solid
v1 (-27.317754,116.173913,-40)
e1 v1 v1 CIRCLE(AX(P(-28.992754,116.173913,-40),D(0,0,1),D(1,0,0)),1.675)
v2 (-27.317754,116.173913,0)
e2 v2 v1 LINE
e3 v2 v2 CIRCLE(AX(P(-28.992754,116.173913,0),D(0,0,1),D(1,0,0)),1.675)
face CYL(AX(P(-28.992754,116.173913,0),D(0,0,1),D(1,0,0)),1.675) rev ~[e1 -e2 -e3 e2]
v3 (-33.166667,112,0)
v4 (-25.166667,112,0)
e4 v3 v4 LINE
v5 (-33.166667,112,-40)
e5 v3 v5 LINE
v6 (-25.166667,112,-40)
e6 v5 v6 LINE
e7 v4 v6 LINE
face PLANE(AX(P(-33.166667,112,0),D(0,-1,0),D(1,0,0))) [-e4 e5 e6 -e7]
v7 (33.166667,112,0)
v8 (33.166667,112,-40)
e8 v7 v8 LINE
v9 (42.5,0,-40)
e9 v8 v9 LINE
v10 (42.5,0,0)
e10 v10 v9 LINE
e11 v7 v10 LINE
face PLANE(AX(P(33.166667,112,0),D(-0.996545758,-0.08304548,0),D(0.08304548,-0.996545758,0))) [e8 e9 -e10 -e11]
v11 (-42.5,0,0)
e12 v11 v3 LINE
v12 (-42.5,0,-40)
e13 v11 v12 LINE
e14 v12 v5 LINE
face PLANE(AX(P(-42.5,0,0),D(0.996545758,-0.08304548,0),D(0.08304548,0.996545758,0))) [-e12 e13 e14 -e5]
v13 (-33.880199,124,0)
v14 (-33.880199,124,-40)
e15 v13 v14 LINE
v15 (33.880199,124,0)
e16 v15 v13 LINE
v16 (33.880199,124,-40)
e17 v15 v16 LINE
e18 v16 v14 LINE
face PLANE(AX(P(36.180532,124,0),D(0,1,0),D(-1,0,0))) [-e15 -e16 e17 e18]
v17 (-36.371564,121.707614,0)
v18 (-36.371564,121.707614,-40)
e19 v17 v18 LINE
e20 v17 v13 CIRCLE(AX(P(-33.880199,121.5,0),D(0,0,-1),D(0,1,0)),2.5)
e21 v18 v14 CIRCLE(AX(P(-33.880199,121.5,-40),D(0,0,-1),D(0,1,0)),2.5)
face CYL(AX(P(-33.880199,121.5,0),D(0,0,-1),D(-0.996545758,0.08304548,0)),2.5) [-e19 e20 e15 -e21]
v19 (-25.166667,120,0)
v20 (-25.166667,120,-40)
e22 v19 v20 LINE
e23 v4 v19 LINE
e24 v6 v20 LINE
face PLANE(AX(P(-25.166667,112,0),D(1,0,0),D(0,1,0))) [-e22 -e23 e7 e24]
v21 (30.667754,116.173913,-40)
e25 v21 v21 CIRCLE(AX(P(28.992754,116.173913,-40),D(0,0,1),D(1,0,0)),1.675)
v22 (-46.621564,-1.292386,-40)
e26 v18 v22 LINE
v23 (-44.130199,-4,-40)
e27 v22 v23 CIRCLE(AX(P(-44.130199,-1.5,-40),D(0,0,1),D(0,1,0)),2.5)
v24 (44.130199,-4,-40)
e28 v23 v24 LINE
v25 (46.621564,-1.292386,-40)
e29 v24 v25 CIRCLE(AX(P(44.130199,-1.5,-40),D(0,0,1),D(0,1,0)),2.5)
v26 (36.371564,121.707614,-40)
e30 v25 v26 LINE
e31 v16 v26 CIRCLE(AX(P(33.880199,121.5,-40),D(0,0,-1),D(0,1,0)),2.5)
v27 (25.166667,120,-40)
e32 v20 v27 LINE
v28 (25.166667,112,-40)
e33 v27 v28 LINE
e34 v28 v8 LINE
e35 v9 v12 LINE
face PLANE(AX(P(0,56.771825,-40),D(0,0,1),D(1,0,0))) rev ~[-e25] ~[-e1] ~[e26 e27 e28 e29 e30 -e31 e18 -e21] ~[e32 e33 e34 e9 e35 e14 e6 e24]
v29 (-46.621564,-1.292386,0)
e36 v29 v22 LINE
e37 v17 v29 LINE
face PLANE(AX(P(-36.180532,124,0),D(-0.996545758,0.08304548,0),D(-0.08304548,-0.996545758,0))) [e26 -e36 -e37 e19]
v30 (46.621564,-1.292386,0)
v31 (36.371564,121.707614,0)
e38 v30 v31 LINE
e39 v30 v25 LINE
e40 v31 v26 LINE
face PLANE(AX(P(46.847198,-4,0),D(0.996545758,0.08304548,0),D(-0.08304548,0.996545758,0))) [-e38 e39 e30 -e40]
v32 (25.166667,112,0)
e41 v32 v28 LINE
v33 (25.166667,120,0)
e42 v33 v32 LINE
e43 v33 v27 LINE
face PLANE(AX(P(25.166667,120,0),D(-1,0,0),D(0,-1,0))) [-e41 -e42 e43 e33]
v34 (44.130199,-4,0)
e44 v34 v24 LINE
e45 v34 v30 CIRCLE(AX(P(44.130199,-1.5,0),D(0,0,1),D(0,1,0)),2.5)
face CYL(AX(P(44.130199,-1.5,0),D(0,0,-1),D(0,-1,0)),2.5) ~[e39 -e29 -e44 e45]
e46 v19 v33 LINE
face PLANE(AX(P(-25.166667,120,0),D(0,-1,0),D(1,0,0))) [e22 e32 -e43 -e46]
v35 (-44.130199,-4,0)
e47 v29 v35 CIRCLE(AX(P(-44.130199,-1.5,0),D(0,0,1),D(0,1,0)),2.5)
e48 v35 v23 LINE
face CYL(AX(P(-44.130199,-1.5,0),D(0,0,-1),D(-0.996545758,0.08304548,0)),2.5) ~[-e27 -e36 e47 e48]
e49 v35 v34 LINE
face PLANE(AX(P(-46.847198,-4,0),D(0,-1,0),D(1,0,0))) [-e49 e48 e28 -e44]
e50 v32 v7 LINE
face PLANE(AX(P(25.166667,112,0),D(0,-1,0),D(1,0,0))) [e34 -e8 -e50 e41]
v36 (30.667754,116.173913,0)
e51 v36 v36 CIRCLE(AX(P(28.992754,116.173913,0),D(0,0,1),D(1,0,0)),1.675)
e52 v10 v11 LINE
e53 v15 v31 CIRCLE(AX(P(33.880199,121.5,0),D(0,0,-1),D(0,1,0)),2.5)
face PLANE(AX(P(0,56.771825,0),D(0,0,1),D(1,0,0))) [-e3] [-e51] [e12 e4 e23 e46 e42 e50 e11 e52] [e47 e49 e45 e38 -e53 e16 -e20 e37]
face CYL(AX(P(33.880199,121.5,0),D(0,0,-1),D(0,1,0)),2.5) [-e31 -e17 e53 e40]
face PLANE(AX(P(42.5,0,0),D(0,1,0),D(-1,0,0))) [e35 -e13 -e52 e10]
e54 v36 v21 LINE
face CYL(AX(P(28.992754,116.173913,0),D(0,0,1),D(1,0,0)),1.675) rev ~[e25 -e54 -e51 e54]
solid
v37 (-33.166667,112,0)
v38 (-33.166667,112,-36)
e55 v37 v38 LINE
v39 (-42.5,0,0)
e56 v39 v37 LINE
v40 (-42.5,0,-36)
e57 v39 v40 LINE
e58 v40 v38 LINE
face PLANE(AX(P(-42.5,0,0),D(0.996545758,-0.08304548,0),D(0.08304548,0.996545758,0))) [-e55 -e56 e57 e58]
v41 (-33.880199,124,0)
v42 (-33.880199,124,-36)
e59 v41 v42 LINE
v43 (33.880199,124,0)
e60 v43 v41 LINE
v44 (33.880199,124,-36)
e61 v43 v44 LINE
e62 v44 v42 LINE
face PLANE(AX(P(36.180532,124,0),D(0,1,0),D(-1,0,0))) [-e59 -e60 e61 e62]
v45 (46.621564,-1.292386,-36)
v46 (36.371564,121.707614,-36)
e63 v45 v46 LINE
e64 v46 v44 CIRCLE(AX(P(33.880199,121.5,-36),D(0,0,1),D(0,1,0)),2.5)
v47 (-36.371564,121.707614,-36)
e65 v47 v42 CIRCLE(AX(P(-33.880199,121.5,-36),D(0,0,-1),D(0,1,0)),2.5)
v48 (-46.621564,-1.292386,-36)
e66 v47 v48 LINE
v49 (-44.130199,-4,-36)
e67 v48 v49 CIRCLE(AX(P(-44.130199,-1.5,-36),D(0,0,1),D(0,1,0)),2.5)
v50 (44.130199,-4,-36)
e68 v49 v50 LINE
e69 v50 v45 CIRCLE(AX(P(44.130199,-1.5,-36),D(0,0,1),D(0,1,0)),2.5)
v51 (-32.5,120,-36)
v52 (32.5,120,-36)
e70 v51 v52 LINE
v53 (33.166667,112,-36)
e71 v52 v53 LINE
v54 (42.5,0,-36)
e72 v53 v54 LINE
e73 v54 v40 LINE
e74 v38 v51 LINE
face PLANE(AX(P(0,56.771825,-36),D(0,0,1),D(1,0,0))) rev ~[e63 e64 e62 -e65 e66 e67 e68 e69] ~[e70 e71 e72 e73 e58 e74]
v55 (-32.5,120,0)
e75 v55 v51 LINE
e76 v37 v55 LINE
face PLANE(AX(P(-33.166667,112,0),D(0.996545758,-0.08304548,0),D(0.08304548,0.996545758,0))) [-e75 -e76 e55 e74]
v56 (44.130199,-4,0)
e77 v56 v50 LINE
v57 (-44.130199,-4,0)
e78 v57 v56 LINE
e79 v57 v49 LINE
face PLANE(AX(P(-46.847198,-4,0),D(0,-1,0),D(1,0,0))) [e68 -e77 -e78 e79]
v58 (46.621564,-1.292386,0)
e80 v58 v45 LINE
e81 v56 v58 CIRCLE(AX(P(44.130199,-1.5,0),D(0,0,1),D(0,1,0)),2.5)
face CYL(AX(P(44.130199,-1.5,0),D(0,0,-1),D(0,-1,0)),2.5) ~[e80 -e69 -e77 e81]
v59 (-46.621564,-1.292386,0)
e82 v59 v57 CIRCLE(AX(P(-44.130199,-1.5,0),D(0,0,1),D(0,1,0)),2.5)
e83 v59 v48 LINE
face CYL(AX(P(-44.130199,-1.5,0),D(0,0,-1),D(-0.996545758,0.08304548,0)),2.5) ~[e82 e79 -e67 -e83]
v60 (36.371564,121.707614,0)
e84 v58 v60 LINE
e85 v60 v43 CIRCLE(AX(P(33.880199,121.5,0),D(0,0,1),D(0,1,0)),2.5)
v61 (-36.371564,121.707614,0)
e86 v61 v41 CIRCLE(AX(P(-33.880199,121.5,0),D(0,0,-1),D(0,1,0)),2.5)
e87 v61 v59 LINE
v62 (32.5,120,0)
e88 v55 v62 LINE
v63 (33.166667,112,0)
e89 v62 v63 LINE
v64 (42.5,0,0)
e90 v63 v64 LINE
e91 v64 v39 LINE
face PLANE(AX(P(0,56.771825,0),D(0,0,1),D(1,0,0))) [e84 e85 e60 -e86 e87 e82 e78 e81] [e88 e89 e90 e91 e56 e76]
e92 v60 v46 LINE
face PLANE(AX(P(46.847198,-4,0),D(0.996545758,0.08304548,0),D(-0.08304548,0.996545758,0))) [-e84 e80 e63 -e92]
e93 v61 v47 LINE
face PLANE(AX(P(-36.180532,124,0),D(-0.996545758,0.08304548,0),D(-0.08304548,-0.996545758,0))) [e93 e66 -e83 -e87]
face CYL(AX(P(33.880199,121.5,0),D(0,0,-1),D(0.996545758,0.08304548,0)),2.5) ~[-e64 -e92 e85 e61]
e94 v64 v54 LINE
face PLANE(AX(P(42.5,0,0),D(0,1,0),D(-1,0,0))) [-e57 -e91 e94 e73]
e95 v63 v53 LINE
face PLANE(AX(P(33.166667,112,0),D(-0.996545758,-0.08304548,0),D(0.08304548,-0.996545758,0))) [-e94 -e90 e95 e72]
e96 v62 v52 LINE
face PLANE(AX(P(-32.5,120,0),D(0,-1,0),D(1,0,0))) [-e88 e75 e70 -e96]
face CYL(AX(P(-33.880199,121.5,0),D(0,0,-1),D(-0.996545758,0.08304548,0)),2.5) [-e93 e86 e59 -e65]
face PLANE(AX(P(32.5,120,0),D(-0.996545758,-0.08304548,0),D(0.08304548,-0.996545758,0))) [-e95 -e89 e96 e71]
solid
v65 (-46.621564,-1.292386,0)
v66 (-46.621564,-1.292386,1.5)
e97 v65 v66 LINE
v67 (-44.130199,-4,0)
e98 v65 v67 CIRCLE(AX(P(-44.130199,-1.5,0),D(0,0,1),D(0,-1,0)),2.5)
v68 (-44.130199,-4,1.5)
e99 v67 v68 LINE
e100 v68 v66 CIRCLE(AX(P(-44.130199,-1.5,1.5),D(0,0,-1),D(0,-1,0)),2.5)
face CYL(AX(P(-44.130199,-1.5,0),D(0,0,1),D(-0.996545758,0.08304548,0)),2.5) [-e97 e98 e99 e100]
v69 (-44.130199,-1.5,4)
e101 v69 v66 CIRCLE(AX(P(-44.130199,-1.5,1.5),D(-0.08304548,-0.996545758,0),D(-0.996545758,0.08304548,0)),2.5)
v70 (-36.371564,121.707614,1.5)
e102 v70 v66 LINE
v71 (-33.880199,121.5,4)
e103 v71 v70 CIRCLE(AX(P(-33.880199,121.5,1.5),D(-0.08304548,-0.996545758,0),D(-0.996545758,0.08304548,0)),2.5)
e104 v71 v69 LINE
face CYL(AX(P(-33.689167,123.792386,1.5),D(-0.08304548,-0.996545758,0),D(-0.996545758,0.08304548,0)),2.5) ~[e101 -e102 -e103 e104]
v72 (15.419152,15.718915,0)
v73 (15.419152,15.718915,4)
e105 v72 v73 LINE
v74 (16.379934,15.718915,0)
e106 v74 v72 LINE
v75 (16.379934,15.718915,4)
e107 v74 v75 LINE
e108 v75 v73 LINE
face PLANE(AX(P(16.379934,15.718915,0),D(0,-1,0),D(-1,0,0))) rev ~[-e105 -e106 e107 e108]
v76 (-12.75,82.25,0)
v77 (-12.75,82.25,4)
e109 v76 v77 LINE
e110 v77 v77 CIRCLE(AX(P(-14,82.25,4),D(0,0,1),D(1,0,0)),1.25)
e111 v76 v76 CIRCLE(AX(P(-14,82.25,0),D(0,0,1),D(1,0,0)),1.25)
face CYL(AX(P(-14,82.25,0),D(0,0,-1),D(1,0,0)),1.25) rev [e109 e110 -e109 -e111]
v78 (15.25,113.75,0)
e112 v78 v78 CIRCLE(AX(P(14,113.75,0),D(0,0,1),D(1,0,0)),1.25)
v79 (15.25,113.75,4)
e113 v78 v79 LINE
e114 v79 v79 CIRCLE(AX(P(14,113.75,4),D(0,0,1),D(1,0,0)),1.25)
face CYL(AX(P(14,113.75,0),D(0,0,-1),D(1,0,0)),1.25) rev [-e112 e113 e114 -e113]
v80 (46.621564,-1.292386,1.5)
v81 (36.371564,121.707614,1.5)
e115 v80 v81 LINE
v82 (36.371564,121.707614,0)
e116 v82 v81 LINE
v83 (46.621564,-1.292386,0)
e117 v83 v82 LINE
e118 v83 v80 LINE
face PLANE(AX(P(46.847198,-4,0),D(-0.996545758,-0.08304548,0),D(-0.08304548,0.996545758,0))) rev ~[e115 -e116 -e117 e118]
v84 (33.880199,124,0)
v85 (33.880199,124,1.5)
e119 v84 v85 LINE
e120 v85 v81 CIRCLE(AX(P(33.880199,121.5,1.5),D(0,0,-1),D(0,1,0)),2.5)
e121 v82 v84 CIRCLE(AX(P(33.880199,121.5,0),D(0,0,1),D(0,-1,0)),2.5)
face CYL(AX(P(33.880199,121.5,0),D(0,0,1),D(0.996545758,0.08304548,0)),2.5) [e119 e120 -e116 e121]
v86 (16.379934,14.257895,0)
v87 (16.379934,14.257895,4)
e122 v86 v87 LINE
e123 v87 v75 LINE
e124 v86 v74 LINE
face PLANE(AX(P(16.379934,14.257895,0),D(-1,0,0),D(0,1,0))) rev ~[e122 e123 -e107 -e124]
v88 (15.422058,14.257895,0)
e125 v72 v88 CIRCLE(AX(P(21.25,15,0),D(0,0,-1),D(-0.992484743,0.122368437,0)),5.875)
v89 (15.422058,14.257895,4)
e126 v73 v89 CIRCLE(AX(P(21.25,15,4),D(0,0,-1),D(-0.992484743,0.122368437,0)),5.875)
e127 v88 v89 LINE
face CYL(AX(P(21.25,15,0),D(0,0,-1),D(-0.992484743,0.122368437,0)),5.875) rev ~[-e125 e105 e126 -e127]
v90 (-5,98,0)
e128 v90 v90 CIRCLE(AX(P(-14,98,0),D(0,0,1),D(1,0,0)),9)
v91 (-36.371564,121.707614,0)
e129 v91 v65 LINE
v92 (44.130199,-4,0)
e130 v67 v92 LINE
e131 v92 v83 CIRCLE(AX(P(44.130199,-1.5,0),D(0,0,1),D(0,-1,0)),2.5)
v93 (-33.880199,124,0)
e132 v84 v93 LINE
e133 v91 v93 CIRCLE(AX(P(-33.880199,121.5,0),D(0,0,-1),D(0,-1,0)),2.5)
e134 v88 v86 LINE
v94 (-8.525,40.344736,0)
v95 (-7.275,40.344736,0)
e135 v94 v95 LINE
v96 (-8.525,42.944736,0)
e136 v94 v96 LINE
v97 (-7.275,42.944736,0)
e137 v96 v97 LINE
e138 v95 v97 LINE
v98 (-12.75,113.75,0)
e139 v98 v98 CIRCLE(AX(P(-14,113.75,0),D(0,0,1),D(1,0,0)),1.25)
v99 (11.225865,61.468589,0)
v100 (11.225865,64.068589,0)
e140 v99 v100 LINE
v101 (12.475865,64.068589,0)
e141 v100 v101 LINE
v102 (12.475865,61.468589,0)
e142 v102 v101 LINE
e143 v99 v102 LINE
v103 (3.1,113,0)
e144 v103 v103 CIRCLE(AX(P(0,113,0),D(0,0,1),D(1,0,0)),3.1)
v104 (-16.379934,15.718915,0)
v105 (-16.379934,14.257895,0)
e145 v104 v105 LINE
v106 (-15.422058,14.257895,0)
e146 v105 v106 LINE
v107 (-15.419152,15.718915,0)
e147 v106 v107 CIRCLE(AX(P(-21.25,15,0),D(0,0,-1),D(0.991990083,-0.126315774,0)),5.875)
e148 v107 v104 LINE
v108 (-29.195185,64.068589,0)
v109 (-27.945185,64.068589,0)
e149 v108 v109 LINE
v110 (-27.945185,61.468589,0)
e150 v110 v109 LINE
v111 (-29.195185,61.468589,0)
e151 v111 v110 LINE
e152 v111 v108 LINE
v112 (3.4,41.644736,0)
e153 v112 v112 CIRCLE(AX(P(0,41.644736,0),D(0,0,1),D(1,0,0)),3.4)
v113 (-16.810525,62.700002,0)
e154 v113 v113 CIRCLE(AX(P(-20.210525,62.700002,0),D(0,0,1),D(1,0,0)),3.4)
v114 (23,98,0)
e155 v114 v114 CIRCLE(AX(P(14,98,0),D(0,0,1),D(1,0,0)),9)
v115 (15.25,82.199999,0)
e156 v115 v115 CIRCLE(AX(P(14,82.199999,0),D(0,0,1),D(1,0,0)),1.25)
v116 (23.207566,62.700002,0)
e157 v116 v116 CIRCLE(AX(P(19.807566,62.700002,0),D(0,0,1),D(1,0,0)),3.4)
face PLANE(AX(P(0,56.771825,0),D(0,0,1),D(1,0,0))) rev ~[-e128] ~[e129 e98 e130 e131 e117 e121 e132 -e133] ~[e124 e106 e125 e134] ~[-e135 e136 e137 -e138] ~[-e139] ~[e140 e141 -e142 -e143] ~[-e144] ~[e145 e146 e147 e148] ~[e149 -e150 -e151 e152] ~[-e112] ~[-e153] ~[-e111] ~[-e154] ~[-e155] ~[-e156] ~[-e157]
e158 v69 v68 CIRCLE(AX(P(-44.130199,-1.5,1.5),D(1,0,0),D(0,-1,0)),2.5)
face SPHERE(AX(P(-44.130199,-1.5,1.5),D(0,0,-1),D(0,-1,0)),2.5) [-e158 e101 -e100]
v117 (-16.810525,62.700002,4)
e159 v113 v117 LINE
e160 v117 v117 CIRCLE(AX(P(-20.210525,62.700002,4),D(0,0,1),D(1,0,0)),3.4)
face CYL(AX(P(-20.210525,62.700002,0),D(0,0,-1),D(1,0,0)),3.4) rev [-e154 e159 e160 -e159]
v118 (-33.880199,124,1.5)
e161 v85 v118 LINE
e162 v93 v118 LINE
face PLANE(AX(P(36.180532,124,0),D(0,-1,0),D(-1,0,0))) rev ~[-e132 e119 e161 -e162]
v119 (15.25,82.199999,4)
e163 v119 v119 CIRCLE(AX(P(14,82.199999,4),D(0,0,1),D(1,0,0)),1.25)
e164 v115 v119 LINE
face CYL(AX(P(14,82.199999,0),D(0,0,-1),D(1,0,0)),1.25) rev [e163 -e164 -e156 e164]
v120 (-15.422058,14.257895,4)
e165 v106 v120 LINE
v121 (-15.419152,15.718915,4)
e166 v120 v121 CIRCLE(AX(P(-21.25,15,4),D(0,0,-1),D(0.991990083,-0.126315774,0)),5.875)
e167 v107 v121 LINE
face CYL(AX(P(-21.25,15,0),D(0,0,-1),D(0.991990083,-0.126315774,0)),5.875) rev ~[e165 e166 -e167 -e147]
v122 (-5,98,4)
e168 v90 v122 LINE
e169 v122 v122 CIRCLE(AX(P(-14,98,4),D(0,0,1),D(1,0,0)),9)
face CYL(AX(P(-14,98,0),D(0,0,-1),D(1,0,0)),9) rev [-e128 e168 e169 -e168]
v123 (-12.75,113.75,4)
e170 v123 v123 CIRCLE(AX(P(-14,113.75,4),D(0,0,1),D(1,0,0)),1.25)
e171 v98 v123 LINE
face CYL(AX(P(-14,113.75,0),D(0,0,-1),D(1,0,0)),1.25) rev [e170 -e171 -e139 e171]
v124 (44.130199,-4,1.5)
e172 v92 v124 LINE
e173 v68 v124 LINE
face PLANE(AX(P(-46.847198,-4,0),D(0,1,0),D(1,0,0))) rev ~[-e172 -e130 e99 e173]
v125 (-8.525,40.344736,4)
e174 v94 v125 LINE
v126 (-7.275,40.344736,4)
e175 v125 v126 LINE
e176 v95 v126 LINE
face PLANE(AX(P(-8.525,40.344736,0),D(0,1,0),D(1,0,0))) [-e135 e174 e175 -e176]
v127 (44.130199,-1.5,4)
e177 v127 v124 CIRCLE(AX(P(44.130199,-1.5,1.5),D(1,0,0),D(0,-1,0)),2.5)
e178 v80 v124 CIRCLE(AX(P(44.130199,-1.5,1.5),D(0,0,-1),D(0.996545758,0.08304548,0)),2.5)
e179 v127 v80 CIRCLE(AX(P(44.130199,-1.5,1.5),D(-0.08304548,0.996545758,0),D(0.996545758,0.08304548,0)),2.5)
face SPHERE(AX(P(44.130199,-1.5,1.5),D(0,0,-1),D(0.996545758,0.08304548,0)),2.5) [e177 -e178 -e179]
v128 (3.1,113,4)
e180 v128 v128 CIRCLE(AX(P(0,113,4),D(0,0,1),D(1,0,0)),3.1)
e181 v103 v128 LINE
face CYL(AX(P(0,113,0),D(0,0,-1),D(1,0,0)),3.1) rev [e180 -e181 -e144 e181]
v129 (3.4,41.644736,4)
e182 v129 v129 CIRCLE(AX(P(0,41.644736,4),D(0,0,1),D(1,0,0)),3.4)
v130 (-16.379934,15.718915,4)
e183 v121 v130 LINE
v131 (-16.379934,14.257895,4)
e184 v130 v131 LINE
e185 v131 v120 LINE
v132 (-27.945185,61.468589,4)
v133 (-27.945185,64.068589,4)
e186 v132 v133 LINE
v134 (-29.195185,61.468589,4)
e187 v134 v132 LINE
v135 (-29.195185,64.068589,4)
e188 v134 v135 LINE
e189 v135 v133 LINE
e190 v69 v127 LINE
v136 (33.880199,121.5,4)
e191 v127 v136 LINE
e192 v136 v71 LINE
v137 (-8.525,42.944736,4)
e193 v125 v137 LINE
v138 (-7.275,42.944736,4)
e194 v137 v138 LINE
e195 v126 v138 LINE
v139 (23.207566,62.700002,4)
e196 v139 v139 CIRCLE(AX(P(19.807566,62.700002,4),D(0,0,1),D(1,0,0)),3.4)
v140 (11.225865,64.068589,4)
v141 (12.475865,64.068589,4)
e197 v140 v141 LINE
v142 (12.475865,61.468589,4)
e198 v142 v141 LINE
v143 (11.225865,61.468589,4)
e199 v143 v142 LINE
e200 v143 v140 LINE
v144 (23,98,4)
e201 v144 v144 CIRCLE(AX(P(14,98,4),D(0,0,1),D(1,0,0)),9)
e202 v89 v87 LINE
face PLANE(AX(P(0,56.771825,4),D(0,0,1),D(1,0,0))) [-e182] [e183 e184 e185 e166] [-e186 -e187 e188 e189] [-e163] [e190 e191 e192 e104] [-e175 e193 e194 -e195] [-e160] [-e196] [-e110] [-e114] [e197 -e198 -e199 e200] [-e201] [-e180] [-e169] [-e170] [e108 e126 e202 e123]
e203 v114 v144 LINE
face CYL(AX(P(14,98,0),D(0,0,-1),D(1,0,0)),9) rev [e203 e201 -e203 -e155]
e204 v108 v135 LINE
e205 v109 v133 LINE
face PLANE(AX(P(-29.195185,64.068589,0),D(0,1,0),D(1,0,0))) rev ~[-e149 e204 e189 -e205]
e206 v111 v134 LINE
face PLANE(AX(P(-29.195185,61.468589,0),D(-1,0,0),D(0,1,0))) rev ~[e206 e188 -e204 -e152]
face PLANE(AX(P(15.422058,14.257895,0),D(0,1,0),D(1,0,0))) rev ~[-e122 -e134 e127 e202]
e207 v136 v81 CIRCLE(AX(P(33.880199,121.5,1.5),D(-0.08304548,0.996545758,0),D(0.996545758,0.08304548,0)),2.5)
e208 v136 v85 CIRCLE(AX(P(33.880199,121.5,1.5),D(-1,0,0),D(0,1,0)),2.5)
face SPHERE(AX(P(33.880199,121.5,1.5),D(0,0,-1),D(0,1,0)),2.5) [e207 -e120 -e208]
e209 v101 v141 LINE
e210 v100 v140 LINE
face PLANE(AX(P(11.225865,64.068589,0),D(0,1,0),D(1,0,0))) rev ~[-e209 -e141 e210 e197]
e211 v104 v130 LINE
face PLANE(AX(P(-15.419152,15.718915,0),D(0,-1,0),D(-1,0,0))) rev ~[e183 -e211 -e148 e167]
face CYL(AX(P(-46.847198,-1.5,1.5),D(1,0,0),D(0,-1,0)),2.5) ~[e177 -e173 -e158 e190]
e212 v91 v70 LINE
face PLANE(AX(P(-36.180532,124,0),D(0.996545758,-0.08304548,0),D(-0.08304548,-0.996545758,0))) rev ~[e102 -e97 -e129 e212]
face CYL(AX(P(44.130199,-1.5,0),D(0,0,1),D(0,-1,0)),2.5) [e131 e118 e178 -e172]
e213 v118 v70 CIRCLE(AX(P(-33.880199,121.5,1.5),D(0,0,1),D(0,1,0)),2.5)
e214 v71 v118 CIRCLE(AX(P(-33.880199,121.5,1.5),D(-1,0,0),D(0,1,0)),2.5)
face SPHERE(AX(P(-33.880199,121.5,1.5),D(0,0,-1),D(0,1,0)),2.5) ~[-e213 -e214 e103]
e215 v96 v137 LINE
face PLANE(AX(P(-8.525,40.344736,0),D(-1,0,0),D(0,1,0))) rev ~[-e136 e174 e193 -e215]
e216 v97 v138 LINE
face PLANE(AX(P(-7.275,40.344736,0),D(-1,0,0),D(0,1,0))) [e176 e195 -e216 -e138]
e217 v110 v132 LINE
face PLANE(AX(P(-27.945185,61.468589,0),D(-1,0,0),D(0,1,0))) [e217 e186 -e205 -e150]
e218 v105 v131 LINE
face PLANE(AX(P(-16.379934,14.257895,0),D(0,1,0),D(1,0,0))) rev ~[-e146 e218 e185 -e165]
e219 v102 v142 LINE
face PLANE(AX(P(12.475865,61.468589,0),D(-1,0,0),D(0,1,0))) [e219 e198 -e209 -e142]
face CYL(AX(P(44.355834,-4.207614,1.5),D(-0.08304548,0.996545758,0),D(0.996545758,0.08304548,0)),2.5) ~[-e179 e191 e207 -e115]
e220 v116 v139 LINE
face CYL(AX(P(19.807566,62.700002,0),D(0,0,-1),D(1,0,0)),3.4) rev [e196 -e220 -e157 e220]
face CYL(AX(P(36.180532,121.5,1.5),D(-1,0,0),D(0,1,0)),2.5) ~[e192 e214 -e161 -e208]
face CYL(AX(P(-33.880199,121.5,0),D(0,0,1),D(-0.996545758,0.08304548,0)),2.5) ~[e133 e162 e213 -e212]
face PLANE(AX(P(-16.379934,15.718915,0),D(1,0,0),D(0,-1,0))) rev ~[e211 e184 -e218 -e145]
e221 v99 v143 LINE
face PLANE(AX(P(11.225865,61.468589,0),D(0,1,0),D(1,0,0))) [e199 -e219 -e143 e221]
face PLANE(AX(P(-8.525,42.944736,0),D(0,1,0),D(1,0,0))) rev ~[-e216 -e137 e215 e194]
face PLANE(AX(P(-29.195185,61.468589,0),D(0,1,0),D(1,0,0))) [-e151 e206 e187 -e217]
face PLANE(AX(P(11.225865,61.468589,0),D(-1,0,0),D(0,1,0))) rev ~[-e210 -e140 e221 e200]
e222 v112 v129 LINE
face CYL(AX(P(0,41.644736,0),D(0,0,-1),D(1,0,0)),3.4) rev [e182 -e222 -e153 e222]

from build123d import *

# Parameters (mm, degrees)
F1_DEPTH = 36
F0_W     = 1.25
F0_H     = 2.6
F0_R     = 3.4
F0_R_2   = 1.25
F0_R_3   = 9
F0_R_4   = 3.1
F0_R_5   = 1.675
F2_DEPTH = 4
F3_DEPTH = 40
F4_R     = 2.5
F4_2_R   = 2.5
F4_3_R   = 2.5


with BuildPart() as f1:
    # F0 (on Top) → F1 (new body)
    with BuildSketch(Plane.XY):
        Polygon((-36.1805315263, 124), (-46.8471981929, -4), (0, -4), (46.8471981929, -4), (36.1805315263, 124), (0, 124), align=None)
        Polygon((42.5, 0), (0, 0), (-42.5, 0), (-33.1666666667, 112), (-32.5, 120), (-25.1666666667, 120), (25.1666666667, 120), (32.5, 120), (33.1666666667, 112), align=None, mode=Mode.SUBTRACT)
    extrude(amount=-F1_DEPTH)

    # F4#3
    f4_3_edges = [f1.edges().sort_by_distance(p)[0] for p in [
        (-36.180532, 124, -18),
        (-46.847198, -4, -18),
        (46.847198, -4, -18),
        (36.180532, 124, -18),
    ]]
    fillet(f4_3_edges, radius=F4_3_R)


with BuildPart() as f2:
    # F0 (on Top) → F2 (new body)
    with BuildSketch(Plane.XY):
        Polygon((-36.1805315263, 124), (-46.8471981929, -4), (0, -4), (46.8471981929, -4), (36.1805315263, 124), (0, 124), align=None)
        Polygon((42.5, 0), (0, 0), (-42.5, 0), (-33.1666666667, 112), (-32.5, 120), (-25.1666666667, 120), (25.1666666667, 120), (32.5, 120), (33.1666666667, 112), align=None, mode=Mode.SUBTRACT)
        Polygon((-42.5, 0), (0, 0), (42.5, 0), (33.1666666667, 112), (25.1666666667, 112), (25.1666666667, 120), (-25.1666666667, 120), (-25.1666666667, 112), (-33.1666666667, 112), align=None)
        with BuildLine():
            ThreePointArc((-15.4220582608, 14.2578948289), (-27.1249883777, 15.0116859919), (-15.4191521334, 15.7189145684))
            Line((-15.4191521334, 15.7189145684), (-16.3799338043, 15.7189145684))
            Line((-16.3799338043, 15.7189145684), (-16.3799338043, 15))
            Line((-16.3799338043, 15), (-16.3799338043, 14.2578948289))
            Line((-16.3799338043, 14.2578948289), (-15.4220582608, 14.2578948289))
        make_face(mode=Mode.SUBTRACT)
        with Locations((-7.9, 41.6447357833)):
            Rectangle(F0_W, F0_H, mode=Mode.SUBTRACT)
        with Locations((0, 41.6447357833)):
            Circle(F0_R, mode=Mode.SUBTRACT)
        with BuildLine():
            Line((16.3799338043, 15.7189145684), (15.4191521334, 15.7189145684))
            ThreePointArc((15.4191521334, 15.7189145684), (27.1249883777, 15.0116859919), (15.4220582608, 14.2578948289))
            Line((15.4220582608, 14.2578948289), (16.3799338043, 14.2578948289))
            Line((16.3799338043, 14.2578948289), (16.3799338043, 15))
            Line((16.3799338043, 15), (16.3799338043, 15.7189145684))
        make_face(mode=Mode.SUBTRACT)
        with Locations((-28.5701850802, 62.7685887098)):
            Rectangle(F0_W, F0_H, mode=Mode.SUBTRACT)
        with Locations((-20.210525021, 62.7000020444)):
            Circle(F0_R, mode=Mode.SUBTRACT)
        with Locations((-14, 82.25)):
            Circle(F0_R_2, mode=Mode.SUBTRACT)
        with Locations((-14, 98)):
            Circle(F0_R_3, mode=Mode.SUBTRACT)
        with Locations((-14, 113.75)):
            Circle(F0_R_2, mode=Mode.SUBTRACT)
        with Locations((0, 113)):
            Circle(F0_R_4, mode=Mode.SUBTRACT)
        with Locations((11.8508649617, 62.7685887098)):
            Rectangle(F0_W, F0_H, mode=Mode.SUBTRACT)
        with Locations((19.8075663388, 62.7000020444)):
            Circle(F0_R, mode=Mode.SUBTRACT)
        with Locations((14, 82.1999993622)):
            Circle(F0_R_2, mode=Mode.SUBTRACT)
        with Locations((14, 98)):
            Circle(F0_R_3, mode=Mode.SUBTRACT)
        with Locations((14, 113.75)):
            Circle(F0_R_2, mode=Mode.SUBTRACT)
        Polygon((-32.5, 120), (-33.1666666667, 112), (-25.1666666667, 112), (-25.1666666667, 120), align=None)
        with Locations((-28.9927536232, 116.1739130435)):
            Circle(F0_R_5, mode=Mode.SUBTRACT)
        Polygon((25.1666666667, 112), (33.1666666667, 112), (32.5, 120), (25.1666666667, 120), align=None)
        with Locations((28.9927536232, 116.1739130435)):
            Circle(F0_R_5, mode=Mode.SUBTRACT)
        with Locations((28.9927536232, 116.1739130435)):
            Circle(F0_R_5)
        with Locations((-28.9927536232, 116.1739130435)):
            Circle(F0_R_5)
    extrude(amount=F2_DEPTH)

    # F4
    f4_edges = [f2.edges().sort_by_distance(p)[0] for p in [
        (-46.847198, -4, 2),
        (46.847198, -4, 2),
        (-36.180532, 124, 2),
        (36.180532, 124, 2),
        (0, 124, 4),
        (41.513865, 60, 4),
        (0, -4, 4),
        (-41.513865, 60, 4),
    ]]
    fillet(f4_edges, radius=F4_R)


with BuildPart() as f3:
    # F0 (on Top) → F3 (new body)
    with BuildSketch(Plane.XY):
        Polygon((-36.1805315263, 124), (-46.8471981929, -4), (0, -4), (46.8471981929, -4), (36.1805315263, 124), (0, 124), align=None)
        Polygon((42.5, 0), (0, 0), (-42.5, 0), (-33.1666666667, 112), (-32.5, 120), (-25.1666666667, 120), (25.1666666667, 120), (32.5, 120), (33.1666666667, 112), align=None, mode=Mode.SUBTRACT)
        Polygon((25.1666666667, 112), (33.1666666667, 112), (32.5, 120), (25.1666666667, 120), align=None)
        with Locations((28.9927536232, 116.1739130435)):
            Circle(F0_R_5, mode=Mode.SUBTRACT)
        Polygon((-32.5, 120), (-33.1666666667, 112), (-25.1666666667, 112), (-25.1666666667, 120), align=None)
        with Locations((-28.9927536232, 116.1739130435)):
            Circle(F0_R_5, mode=Mode.SUBTRACT)
    extrude(amount=-F3_DEPTH)

    # F4#2
    f4_2_edges = [f3.edges().sort_by_distance(p)[0] for p in [
        (-46.847198, -4, -20),
        (46.847198, -4, -20),
        (-36.180532, 124, -20),
        (36.180532, 124, -20),
    ]]
    fillet(f4_2_edges, radius=F4_2_R)


solid = Compound([f1.part, f2.part, f3.part])
